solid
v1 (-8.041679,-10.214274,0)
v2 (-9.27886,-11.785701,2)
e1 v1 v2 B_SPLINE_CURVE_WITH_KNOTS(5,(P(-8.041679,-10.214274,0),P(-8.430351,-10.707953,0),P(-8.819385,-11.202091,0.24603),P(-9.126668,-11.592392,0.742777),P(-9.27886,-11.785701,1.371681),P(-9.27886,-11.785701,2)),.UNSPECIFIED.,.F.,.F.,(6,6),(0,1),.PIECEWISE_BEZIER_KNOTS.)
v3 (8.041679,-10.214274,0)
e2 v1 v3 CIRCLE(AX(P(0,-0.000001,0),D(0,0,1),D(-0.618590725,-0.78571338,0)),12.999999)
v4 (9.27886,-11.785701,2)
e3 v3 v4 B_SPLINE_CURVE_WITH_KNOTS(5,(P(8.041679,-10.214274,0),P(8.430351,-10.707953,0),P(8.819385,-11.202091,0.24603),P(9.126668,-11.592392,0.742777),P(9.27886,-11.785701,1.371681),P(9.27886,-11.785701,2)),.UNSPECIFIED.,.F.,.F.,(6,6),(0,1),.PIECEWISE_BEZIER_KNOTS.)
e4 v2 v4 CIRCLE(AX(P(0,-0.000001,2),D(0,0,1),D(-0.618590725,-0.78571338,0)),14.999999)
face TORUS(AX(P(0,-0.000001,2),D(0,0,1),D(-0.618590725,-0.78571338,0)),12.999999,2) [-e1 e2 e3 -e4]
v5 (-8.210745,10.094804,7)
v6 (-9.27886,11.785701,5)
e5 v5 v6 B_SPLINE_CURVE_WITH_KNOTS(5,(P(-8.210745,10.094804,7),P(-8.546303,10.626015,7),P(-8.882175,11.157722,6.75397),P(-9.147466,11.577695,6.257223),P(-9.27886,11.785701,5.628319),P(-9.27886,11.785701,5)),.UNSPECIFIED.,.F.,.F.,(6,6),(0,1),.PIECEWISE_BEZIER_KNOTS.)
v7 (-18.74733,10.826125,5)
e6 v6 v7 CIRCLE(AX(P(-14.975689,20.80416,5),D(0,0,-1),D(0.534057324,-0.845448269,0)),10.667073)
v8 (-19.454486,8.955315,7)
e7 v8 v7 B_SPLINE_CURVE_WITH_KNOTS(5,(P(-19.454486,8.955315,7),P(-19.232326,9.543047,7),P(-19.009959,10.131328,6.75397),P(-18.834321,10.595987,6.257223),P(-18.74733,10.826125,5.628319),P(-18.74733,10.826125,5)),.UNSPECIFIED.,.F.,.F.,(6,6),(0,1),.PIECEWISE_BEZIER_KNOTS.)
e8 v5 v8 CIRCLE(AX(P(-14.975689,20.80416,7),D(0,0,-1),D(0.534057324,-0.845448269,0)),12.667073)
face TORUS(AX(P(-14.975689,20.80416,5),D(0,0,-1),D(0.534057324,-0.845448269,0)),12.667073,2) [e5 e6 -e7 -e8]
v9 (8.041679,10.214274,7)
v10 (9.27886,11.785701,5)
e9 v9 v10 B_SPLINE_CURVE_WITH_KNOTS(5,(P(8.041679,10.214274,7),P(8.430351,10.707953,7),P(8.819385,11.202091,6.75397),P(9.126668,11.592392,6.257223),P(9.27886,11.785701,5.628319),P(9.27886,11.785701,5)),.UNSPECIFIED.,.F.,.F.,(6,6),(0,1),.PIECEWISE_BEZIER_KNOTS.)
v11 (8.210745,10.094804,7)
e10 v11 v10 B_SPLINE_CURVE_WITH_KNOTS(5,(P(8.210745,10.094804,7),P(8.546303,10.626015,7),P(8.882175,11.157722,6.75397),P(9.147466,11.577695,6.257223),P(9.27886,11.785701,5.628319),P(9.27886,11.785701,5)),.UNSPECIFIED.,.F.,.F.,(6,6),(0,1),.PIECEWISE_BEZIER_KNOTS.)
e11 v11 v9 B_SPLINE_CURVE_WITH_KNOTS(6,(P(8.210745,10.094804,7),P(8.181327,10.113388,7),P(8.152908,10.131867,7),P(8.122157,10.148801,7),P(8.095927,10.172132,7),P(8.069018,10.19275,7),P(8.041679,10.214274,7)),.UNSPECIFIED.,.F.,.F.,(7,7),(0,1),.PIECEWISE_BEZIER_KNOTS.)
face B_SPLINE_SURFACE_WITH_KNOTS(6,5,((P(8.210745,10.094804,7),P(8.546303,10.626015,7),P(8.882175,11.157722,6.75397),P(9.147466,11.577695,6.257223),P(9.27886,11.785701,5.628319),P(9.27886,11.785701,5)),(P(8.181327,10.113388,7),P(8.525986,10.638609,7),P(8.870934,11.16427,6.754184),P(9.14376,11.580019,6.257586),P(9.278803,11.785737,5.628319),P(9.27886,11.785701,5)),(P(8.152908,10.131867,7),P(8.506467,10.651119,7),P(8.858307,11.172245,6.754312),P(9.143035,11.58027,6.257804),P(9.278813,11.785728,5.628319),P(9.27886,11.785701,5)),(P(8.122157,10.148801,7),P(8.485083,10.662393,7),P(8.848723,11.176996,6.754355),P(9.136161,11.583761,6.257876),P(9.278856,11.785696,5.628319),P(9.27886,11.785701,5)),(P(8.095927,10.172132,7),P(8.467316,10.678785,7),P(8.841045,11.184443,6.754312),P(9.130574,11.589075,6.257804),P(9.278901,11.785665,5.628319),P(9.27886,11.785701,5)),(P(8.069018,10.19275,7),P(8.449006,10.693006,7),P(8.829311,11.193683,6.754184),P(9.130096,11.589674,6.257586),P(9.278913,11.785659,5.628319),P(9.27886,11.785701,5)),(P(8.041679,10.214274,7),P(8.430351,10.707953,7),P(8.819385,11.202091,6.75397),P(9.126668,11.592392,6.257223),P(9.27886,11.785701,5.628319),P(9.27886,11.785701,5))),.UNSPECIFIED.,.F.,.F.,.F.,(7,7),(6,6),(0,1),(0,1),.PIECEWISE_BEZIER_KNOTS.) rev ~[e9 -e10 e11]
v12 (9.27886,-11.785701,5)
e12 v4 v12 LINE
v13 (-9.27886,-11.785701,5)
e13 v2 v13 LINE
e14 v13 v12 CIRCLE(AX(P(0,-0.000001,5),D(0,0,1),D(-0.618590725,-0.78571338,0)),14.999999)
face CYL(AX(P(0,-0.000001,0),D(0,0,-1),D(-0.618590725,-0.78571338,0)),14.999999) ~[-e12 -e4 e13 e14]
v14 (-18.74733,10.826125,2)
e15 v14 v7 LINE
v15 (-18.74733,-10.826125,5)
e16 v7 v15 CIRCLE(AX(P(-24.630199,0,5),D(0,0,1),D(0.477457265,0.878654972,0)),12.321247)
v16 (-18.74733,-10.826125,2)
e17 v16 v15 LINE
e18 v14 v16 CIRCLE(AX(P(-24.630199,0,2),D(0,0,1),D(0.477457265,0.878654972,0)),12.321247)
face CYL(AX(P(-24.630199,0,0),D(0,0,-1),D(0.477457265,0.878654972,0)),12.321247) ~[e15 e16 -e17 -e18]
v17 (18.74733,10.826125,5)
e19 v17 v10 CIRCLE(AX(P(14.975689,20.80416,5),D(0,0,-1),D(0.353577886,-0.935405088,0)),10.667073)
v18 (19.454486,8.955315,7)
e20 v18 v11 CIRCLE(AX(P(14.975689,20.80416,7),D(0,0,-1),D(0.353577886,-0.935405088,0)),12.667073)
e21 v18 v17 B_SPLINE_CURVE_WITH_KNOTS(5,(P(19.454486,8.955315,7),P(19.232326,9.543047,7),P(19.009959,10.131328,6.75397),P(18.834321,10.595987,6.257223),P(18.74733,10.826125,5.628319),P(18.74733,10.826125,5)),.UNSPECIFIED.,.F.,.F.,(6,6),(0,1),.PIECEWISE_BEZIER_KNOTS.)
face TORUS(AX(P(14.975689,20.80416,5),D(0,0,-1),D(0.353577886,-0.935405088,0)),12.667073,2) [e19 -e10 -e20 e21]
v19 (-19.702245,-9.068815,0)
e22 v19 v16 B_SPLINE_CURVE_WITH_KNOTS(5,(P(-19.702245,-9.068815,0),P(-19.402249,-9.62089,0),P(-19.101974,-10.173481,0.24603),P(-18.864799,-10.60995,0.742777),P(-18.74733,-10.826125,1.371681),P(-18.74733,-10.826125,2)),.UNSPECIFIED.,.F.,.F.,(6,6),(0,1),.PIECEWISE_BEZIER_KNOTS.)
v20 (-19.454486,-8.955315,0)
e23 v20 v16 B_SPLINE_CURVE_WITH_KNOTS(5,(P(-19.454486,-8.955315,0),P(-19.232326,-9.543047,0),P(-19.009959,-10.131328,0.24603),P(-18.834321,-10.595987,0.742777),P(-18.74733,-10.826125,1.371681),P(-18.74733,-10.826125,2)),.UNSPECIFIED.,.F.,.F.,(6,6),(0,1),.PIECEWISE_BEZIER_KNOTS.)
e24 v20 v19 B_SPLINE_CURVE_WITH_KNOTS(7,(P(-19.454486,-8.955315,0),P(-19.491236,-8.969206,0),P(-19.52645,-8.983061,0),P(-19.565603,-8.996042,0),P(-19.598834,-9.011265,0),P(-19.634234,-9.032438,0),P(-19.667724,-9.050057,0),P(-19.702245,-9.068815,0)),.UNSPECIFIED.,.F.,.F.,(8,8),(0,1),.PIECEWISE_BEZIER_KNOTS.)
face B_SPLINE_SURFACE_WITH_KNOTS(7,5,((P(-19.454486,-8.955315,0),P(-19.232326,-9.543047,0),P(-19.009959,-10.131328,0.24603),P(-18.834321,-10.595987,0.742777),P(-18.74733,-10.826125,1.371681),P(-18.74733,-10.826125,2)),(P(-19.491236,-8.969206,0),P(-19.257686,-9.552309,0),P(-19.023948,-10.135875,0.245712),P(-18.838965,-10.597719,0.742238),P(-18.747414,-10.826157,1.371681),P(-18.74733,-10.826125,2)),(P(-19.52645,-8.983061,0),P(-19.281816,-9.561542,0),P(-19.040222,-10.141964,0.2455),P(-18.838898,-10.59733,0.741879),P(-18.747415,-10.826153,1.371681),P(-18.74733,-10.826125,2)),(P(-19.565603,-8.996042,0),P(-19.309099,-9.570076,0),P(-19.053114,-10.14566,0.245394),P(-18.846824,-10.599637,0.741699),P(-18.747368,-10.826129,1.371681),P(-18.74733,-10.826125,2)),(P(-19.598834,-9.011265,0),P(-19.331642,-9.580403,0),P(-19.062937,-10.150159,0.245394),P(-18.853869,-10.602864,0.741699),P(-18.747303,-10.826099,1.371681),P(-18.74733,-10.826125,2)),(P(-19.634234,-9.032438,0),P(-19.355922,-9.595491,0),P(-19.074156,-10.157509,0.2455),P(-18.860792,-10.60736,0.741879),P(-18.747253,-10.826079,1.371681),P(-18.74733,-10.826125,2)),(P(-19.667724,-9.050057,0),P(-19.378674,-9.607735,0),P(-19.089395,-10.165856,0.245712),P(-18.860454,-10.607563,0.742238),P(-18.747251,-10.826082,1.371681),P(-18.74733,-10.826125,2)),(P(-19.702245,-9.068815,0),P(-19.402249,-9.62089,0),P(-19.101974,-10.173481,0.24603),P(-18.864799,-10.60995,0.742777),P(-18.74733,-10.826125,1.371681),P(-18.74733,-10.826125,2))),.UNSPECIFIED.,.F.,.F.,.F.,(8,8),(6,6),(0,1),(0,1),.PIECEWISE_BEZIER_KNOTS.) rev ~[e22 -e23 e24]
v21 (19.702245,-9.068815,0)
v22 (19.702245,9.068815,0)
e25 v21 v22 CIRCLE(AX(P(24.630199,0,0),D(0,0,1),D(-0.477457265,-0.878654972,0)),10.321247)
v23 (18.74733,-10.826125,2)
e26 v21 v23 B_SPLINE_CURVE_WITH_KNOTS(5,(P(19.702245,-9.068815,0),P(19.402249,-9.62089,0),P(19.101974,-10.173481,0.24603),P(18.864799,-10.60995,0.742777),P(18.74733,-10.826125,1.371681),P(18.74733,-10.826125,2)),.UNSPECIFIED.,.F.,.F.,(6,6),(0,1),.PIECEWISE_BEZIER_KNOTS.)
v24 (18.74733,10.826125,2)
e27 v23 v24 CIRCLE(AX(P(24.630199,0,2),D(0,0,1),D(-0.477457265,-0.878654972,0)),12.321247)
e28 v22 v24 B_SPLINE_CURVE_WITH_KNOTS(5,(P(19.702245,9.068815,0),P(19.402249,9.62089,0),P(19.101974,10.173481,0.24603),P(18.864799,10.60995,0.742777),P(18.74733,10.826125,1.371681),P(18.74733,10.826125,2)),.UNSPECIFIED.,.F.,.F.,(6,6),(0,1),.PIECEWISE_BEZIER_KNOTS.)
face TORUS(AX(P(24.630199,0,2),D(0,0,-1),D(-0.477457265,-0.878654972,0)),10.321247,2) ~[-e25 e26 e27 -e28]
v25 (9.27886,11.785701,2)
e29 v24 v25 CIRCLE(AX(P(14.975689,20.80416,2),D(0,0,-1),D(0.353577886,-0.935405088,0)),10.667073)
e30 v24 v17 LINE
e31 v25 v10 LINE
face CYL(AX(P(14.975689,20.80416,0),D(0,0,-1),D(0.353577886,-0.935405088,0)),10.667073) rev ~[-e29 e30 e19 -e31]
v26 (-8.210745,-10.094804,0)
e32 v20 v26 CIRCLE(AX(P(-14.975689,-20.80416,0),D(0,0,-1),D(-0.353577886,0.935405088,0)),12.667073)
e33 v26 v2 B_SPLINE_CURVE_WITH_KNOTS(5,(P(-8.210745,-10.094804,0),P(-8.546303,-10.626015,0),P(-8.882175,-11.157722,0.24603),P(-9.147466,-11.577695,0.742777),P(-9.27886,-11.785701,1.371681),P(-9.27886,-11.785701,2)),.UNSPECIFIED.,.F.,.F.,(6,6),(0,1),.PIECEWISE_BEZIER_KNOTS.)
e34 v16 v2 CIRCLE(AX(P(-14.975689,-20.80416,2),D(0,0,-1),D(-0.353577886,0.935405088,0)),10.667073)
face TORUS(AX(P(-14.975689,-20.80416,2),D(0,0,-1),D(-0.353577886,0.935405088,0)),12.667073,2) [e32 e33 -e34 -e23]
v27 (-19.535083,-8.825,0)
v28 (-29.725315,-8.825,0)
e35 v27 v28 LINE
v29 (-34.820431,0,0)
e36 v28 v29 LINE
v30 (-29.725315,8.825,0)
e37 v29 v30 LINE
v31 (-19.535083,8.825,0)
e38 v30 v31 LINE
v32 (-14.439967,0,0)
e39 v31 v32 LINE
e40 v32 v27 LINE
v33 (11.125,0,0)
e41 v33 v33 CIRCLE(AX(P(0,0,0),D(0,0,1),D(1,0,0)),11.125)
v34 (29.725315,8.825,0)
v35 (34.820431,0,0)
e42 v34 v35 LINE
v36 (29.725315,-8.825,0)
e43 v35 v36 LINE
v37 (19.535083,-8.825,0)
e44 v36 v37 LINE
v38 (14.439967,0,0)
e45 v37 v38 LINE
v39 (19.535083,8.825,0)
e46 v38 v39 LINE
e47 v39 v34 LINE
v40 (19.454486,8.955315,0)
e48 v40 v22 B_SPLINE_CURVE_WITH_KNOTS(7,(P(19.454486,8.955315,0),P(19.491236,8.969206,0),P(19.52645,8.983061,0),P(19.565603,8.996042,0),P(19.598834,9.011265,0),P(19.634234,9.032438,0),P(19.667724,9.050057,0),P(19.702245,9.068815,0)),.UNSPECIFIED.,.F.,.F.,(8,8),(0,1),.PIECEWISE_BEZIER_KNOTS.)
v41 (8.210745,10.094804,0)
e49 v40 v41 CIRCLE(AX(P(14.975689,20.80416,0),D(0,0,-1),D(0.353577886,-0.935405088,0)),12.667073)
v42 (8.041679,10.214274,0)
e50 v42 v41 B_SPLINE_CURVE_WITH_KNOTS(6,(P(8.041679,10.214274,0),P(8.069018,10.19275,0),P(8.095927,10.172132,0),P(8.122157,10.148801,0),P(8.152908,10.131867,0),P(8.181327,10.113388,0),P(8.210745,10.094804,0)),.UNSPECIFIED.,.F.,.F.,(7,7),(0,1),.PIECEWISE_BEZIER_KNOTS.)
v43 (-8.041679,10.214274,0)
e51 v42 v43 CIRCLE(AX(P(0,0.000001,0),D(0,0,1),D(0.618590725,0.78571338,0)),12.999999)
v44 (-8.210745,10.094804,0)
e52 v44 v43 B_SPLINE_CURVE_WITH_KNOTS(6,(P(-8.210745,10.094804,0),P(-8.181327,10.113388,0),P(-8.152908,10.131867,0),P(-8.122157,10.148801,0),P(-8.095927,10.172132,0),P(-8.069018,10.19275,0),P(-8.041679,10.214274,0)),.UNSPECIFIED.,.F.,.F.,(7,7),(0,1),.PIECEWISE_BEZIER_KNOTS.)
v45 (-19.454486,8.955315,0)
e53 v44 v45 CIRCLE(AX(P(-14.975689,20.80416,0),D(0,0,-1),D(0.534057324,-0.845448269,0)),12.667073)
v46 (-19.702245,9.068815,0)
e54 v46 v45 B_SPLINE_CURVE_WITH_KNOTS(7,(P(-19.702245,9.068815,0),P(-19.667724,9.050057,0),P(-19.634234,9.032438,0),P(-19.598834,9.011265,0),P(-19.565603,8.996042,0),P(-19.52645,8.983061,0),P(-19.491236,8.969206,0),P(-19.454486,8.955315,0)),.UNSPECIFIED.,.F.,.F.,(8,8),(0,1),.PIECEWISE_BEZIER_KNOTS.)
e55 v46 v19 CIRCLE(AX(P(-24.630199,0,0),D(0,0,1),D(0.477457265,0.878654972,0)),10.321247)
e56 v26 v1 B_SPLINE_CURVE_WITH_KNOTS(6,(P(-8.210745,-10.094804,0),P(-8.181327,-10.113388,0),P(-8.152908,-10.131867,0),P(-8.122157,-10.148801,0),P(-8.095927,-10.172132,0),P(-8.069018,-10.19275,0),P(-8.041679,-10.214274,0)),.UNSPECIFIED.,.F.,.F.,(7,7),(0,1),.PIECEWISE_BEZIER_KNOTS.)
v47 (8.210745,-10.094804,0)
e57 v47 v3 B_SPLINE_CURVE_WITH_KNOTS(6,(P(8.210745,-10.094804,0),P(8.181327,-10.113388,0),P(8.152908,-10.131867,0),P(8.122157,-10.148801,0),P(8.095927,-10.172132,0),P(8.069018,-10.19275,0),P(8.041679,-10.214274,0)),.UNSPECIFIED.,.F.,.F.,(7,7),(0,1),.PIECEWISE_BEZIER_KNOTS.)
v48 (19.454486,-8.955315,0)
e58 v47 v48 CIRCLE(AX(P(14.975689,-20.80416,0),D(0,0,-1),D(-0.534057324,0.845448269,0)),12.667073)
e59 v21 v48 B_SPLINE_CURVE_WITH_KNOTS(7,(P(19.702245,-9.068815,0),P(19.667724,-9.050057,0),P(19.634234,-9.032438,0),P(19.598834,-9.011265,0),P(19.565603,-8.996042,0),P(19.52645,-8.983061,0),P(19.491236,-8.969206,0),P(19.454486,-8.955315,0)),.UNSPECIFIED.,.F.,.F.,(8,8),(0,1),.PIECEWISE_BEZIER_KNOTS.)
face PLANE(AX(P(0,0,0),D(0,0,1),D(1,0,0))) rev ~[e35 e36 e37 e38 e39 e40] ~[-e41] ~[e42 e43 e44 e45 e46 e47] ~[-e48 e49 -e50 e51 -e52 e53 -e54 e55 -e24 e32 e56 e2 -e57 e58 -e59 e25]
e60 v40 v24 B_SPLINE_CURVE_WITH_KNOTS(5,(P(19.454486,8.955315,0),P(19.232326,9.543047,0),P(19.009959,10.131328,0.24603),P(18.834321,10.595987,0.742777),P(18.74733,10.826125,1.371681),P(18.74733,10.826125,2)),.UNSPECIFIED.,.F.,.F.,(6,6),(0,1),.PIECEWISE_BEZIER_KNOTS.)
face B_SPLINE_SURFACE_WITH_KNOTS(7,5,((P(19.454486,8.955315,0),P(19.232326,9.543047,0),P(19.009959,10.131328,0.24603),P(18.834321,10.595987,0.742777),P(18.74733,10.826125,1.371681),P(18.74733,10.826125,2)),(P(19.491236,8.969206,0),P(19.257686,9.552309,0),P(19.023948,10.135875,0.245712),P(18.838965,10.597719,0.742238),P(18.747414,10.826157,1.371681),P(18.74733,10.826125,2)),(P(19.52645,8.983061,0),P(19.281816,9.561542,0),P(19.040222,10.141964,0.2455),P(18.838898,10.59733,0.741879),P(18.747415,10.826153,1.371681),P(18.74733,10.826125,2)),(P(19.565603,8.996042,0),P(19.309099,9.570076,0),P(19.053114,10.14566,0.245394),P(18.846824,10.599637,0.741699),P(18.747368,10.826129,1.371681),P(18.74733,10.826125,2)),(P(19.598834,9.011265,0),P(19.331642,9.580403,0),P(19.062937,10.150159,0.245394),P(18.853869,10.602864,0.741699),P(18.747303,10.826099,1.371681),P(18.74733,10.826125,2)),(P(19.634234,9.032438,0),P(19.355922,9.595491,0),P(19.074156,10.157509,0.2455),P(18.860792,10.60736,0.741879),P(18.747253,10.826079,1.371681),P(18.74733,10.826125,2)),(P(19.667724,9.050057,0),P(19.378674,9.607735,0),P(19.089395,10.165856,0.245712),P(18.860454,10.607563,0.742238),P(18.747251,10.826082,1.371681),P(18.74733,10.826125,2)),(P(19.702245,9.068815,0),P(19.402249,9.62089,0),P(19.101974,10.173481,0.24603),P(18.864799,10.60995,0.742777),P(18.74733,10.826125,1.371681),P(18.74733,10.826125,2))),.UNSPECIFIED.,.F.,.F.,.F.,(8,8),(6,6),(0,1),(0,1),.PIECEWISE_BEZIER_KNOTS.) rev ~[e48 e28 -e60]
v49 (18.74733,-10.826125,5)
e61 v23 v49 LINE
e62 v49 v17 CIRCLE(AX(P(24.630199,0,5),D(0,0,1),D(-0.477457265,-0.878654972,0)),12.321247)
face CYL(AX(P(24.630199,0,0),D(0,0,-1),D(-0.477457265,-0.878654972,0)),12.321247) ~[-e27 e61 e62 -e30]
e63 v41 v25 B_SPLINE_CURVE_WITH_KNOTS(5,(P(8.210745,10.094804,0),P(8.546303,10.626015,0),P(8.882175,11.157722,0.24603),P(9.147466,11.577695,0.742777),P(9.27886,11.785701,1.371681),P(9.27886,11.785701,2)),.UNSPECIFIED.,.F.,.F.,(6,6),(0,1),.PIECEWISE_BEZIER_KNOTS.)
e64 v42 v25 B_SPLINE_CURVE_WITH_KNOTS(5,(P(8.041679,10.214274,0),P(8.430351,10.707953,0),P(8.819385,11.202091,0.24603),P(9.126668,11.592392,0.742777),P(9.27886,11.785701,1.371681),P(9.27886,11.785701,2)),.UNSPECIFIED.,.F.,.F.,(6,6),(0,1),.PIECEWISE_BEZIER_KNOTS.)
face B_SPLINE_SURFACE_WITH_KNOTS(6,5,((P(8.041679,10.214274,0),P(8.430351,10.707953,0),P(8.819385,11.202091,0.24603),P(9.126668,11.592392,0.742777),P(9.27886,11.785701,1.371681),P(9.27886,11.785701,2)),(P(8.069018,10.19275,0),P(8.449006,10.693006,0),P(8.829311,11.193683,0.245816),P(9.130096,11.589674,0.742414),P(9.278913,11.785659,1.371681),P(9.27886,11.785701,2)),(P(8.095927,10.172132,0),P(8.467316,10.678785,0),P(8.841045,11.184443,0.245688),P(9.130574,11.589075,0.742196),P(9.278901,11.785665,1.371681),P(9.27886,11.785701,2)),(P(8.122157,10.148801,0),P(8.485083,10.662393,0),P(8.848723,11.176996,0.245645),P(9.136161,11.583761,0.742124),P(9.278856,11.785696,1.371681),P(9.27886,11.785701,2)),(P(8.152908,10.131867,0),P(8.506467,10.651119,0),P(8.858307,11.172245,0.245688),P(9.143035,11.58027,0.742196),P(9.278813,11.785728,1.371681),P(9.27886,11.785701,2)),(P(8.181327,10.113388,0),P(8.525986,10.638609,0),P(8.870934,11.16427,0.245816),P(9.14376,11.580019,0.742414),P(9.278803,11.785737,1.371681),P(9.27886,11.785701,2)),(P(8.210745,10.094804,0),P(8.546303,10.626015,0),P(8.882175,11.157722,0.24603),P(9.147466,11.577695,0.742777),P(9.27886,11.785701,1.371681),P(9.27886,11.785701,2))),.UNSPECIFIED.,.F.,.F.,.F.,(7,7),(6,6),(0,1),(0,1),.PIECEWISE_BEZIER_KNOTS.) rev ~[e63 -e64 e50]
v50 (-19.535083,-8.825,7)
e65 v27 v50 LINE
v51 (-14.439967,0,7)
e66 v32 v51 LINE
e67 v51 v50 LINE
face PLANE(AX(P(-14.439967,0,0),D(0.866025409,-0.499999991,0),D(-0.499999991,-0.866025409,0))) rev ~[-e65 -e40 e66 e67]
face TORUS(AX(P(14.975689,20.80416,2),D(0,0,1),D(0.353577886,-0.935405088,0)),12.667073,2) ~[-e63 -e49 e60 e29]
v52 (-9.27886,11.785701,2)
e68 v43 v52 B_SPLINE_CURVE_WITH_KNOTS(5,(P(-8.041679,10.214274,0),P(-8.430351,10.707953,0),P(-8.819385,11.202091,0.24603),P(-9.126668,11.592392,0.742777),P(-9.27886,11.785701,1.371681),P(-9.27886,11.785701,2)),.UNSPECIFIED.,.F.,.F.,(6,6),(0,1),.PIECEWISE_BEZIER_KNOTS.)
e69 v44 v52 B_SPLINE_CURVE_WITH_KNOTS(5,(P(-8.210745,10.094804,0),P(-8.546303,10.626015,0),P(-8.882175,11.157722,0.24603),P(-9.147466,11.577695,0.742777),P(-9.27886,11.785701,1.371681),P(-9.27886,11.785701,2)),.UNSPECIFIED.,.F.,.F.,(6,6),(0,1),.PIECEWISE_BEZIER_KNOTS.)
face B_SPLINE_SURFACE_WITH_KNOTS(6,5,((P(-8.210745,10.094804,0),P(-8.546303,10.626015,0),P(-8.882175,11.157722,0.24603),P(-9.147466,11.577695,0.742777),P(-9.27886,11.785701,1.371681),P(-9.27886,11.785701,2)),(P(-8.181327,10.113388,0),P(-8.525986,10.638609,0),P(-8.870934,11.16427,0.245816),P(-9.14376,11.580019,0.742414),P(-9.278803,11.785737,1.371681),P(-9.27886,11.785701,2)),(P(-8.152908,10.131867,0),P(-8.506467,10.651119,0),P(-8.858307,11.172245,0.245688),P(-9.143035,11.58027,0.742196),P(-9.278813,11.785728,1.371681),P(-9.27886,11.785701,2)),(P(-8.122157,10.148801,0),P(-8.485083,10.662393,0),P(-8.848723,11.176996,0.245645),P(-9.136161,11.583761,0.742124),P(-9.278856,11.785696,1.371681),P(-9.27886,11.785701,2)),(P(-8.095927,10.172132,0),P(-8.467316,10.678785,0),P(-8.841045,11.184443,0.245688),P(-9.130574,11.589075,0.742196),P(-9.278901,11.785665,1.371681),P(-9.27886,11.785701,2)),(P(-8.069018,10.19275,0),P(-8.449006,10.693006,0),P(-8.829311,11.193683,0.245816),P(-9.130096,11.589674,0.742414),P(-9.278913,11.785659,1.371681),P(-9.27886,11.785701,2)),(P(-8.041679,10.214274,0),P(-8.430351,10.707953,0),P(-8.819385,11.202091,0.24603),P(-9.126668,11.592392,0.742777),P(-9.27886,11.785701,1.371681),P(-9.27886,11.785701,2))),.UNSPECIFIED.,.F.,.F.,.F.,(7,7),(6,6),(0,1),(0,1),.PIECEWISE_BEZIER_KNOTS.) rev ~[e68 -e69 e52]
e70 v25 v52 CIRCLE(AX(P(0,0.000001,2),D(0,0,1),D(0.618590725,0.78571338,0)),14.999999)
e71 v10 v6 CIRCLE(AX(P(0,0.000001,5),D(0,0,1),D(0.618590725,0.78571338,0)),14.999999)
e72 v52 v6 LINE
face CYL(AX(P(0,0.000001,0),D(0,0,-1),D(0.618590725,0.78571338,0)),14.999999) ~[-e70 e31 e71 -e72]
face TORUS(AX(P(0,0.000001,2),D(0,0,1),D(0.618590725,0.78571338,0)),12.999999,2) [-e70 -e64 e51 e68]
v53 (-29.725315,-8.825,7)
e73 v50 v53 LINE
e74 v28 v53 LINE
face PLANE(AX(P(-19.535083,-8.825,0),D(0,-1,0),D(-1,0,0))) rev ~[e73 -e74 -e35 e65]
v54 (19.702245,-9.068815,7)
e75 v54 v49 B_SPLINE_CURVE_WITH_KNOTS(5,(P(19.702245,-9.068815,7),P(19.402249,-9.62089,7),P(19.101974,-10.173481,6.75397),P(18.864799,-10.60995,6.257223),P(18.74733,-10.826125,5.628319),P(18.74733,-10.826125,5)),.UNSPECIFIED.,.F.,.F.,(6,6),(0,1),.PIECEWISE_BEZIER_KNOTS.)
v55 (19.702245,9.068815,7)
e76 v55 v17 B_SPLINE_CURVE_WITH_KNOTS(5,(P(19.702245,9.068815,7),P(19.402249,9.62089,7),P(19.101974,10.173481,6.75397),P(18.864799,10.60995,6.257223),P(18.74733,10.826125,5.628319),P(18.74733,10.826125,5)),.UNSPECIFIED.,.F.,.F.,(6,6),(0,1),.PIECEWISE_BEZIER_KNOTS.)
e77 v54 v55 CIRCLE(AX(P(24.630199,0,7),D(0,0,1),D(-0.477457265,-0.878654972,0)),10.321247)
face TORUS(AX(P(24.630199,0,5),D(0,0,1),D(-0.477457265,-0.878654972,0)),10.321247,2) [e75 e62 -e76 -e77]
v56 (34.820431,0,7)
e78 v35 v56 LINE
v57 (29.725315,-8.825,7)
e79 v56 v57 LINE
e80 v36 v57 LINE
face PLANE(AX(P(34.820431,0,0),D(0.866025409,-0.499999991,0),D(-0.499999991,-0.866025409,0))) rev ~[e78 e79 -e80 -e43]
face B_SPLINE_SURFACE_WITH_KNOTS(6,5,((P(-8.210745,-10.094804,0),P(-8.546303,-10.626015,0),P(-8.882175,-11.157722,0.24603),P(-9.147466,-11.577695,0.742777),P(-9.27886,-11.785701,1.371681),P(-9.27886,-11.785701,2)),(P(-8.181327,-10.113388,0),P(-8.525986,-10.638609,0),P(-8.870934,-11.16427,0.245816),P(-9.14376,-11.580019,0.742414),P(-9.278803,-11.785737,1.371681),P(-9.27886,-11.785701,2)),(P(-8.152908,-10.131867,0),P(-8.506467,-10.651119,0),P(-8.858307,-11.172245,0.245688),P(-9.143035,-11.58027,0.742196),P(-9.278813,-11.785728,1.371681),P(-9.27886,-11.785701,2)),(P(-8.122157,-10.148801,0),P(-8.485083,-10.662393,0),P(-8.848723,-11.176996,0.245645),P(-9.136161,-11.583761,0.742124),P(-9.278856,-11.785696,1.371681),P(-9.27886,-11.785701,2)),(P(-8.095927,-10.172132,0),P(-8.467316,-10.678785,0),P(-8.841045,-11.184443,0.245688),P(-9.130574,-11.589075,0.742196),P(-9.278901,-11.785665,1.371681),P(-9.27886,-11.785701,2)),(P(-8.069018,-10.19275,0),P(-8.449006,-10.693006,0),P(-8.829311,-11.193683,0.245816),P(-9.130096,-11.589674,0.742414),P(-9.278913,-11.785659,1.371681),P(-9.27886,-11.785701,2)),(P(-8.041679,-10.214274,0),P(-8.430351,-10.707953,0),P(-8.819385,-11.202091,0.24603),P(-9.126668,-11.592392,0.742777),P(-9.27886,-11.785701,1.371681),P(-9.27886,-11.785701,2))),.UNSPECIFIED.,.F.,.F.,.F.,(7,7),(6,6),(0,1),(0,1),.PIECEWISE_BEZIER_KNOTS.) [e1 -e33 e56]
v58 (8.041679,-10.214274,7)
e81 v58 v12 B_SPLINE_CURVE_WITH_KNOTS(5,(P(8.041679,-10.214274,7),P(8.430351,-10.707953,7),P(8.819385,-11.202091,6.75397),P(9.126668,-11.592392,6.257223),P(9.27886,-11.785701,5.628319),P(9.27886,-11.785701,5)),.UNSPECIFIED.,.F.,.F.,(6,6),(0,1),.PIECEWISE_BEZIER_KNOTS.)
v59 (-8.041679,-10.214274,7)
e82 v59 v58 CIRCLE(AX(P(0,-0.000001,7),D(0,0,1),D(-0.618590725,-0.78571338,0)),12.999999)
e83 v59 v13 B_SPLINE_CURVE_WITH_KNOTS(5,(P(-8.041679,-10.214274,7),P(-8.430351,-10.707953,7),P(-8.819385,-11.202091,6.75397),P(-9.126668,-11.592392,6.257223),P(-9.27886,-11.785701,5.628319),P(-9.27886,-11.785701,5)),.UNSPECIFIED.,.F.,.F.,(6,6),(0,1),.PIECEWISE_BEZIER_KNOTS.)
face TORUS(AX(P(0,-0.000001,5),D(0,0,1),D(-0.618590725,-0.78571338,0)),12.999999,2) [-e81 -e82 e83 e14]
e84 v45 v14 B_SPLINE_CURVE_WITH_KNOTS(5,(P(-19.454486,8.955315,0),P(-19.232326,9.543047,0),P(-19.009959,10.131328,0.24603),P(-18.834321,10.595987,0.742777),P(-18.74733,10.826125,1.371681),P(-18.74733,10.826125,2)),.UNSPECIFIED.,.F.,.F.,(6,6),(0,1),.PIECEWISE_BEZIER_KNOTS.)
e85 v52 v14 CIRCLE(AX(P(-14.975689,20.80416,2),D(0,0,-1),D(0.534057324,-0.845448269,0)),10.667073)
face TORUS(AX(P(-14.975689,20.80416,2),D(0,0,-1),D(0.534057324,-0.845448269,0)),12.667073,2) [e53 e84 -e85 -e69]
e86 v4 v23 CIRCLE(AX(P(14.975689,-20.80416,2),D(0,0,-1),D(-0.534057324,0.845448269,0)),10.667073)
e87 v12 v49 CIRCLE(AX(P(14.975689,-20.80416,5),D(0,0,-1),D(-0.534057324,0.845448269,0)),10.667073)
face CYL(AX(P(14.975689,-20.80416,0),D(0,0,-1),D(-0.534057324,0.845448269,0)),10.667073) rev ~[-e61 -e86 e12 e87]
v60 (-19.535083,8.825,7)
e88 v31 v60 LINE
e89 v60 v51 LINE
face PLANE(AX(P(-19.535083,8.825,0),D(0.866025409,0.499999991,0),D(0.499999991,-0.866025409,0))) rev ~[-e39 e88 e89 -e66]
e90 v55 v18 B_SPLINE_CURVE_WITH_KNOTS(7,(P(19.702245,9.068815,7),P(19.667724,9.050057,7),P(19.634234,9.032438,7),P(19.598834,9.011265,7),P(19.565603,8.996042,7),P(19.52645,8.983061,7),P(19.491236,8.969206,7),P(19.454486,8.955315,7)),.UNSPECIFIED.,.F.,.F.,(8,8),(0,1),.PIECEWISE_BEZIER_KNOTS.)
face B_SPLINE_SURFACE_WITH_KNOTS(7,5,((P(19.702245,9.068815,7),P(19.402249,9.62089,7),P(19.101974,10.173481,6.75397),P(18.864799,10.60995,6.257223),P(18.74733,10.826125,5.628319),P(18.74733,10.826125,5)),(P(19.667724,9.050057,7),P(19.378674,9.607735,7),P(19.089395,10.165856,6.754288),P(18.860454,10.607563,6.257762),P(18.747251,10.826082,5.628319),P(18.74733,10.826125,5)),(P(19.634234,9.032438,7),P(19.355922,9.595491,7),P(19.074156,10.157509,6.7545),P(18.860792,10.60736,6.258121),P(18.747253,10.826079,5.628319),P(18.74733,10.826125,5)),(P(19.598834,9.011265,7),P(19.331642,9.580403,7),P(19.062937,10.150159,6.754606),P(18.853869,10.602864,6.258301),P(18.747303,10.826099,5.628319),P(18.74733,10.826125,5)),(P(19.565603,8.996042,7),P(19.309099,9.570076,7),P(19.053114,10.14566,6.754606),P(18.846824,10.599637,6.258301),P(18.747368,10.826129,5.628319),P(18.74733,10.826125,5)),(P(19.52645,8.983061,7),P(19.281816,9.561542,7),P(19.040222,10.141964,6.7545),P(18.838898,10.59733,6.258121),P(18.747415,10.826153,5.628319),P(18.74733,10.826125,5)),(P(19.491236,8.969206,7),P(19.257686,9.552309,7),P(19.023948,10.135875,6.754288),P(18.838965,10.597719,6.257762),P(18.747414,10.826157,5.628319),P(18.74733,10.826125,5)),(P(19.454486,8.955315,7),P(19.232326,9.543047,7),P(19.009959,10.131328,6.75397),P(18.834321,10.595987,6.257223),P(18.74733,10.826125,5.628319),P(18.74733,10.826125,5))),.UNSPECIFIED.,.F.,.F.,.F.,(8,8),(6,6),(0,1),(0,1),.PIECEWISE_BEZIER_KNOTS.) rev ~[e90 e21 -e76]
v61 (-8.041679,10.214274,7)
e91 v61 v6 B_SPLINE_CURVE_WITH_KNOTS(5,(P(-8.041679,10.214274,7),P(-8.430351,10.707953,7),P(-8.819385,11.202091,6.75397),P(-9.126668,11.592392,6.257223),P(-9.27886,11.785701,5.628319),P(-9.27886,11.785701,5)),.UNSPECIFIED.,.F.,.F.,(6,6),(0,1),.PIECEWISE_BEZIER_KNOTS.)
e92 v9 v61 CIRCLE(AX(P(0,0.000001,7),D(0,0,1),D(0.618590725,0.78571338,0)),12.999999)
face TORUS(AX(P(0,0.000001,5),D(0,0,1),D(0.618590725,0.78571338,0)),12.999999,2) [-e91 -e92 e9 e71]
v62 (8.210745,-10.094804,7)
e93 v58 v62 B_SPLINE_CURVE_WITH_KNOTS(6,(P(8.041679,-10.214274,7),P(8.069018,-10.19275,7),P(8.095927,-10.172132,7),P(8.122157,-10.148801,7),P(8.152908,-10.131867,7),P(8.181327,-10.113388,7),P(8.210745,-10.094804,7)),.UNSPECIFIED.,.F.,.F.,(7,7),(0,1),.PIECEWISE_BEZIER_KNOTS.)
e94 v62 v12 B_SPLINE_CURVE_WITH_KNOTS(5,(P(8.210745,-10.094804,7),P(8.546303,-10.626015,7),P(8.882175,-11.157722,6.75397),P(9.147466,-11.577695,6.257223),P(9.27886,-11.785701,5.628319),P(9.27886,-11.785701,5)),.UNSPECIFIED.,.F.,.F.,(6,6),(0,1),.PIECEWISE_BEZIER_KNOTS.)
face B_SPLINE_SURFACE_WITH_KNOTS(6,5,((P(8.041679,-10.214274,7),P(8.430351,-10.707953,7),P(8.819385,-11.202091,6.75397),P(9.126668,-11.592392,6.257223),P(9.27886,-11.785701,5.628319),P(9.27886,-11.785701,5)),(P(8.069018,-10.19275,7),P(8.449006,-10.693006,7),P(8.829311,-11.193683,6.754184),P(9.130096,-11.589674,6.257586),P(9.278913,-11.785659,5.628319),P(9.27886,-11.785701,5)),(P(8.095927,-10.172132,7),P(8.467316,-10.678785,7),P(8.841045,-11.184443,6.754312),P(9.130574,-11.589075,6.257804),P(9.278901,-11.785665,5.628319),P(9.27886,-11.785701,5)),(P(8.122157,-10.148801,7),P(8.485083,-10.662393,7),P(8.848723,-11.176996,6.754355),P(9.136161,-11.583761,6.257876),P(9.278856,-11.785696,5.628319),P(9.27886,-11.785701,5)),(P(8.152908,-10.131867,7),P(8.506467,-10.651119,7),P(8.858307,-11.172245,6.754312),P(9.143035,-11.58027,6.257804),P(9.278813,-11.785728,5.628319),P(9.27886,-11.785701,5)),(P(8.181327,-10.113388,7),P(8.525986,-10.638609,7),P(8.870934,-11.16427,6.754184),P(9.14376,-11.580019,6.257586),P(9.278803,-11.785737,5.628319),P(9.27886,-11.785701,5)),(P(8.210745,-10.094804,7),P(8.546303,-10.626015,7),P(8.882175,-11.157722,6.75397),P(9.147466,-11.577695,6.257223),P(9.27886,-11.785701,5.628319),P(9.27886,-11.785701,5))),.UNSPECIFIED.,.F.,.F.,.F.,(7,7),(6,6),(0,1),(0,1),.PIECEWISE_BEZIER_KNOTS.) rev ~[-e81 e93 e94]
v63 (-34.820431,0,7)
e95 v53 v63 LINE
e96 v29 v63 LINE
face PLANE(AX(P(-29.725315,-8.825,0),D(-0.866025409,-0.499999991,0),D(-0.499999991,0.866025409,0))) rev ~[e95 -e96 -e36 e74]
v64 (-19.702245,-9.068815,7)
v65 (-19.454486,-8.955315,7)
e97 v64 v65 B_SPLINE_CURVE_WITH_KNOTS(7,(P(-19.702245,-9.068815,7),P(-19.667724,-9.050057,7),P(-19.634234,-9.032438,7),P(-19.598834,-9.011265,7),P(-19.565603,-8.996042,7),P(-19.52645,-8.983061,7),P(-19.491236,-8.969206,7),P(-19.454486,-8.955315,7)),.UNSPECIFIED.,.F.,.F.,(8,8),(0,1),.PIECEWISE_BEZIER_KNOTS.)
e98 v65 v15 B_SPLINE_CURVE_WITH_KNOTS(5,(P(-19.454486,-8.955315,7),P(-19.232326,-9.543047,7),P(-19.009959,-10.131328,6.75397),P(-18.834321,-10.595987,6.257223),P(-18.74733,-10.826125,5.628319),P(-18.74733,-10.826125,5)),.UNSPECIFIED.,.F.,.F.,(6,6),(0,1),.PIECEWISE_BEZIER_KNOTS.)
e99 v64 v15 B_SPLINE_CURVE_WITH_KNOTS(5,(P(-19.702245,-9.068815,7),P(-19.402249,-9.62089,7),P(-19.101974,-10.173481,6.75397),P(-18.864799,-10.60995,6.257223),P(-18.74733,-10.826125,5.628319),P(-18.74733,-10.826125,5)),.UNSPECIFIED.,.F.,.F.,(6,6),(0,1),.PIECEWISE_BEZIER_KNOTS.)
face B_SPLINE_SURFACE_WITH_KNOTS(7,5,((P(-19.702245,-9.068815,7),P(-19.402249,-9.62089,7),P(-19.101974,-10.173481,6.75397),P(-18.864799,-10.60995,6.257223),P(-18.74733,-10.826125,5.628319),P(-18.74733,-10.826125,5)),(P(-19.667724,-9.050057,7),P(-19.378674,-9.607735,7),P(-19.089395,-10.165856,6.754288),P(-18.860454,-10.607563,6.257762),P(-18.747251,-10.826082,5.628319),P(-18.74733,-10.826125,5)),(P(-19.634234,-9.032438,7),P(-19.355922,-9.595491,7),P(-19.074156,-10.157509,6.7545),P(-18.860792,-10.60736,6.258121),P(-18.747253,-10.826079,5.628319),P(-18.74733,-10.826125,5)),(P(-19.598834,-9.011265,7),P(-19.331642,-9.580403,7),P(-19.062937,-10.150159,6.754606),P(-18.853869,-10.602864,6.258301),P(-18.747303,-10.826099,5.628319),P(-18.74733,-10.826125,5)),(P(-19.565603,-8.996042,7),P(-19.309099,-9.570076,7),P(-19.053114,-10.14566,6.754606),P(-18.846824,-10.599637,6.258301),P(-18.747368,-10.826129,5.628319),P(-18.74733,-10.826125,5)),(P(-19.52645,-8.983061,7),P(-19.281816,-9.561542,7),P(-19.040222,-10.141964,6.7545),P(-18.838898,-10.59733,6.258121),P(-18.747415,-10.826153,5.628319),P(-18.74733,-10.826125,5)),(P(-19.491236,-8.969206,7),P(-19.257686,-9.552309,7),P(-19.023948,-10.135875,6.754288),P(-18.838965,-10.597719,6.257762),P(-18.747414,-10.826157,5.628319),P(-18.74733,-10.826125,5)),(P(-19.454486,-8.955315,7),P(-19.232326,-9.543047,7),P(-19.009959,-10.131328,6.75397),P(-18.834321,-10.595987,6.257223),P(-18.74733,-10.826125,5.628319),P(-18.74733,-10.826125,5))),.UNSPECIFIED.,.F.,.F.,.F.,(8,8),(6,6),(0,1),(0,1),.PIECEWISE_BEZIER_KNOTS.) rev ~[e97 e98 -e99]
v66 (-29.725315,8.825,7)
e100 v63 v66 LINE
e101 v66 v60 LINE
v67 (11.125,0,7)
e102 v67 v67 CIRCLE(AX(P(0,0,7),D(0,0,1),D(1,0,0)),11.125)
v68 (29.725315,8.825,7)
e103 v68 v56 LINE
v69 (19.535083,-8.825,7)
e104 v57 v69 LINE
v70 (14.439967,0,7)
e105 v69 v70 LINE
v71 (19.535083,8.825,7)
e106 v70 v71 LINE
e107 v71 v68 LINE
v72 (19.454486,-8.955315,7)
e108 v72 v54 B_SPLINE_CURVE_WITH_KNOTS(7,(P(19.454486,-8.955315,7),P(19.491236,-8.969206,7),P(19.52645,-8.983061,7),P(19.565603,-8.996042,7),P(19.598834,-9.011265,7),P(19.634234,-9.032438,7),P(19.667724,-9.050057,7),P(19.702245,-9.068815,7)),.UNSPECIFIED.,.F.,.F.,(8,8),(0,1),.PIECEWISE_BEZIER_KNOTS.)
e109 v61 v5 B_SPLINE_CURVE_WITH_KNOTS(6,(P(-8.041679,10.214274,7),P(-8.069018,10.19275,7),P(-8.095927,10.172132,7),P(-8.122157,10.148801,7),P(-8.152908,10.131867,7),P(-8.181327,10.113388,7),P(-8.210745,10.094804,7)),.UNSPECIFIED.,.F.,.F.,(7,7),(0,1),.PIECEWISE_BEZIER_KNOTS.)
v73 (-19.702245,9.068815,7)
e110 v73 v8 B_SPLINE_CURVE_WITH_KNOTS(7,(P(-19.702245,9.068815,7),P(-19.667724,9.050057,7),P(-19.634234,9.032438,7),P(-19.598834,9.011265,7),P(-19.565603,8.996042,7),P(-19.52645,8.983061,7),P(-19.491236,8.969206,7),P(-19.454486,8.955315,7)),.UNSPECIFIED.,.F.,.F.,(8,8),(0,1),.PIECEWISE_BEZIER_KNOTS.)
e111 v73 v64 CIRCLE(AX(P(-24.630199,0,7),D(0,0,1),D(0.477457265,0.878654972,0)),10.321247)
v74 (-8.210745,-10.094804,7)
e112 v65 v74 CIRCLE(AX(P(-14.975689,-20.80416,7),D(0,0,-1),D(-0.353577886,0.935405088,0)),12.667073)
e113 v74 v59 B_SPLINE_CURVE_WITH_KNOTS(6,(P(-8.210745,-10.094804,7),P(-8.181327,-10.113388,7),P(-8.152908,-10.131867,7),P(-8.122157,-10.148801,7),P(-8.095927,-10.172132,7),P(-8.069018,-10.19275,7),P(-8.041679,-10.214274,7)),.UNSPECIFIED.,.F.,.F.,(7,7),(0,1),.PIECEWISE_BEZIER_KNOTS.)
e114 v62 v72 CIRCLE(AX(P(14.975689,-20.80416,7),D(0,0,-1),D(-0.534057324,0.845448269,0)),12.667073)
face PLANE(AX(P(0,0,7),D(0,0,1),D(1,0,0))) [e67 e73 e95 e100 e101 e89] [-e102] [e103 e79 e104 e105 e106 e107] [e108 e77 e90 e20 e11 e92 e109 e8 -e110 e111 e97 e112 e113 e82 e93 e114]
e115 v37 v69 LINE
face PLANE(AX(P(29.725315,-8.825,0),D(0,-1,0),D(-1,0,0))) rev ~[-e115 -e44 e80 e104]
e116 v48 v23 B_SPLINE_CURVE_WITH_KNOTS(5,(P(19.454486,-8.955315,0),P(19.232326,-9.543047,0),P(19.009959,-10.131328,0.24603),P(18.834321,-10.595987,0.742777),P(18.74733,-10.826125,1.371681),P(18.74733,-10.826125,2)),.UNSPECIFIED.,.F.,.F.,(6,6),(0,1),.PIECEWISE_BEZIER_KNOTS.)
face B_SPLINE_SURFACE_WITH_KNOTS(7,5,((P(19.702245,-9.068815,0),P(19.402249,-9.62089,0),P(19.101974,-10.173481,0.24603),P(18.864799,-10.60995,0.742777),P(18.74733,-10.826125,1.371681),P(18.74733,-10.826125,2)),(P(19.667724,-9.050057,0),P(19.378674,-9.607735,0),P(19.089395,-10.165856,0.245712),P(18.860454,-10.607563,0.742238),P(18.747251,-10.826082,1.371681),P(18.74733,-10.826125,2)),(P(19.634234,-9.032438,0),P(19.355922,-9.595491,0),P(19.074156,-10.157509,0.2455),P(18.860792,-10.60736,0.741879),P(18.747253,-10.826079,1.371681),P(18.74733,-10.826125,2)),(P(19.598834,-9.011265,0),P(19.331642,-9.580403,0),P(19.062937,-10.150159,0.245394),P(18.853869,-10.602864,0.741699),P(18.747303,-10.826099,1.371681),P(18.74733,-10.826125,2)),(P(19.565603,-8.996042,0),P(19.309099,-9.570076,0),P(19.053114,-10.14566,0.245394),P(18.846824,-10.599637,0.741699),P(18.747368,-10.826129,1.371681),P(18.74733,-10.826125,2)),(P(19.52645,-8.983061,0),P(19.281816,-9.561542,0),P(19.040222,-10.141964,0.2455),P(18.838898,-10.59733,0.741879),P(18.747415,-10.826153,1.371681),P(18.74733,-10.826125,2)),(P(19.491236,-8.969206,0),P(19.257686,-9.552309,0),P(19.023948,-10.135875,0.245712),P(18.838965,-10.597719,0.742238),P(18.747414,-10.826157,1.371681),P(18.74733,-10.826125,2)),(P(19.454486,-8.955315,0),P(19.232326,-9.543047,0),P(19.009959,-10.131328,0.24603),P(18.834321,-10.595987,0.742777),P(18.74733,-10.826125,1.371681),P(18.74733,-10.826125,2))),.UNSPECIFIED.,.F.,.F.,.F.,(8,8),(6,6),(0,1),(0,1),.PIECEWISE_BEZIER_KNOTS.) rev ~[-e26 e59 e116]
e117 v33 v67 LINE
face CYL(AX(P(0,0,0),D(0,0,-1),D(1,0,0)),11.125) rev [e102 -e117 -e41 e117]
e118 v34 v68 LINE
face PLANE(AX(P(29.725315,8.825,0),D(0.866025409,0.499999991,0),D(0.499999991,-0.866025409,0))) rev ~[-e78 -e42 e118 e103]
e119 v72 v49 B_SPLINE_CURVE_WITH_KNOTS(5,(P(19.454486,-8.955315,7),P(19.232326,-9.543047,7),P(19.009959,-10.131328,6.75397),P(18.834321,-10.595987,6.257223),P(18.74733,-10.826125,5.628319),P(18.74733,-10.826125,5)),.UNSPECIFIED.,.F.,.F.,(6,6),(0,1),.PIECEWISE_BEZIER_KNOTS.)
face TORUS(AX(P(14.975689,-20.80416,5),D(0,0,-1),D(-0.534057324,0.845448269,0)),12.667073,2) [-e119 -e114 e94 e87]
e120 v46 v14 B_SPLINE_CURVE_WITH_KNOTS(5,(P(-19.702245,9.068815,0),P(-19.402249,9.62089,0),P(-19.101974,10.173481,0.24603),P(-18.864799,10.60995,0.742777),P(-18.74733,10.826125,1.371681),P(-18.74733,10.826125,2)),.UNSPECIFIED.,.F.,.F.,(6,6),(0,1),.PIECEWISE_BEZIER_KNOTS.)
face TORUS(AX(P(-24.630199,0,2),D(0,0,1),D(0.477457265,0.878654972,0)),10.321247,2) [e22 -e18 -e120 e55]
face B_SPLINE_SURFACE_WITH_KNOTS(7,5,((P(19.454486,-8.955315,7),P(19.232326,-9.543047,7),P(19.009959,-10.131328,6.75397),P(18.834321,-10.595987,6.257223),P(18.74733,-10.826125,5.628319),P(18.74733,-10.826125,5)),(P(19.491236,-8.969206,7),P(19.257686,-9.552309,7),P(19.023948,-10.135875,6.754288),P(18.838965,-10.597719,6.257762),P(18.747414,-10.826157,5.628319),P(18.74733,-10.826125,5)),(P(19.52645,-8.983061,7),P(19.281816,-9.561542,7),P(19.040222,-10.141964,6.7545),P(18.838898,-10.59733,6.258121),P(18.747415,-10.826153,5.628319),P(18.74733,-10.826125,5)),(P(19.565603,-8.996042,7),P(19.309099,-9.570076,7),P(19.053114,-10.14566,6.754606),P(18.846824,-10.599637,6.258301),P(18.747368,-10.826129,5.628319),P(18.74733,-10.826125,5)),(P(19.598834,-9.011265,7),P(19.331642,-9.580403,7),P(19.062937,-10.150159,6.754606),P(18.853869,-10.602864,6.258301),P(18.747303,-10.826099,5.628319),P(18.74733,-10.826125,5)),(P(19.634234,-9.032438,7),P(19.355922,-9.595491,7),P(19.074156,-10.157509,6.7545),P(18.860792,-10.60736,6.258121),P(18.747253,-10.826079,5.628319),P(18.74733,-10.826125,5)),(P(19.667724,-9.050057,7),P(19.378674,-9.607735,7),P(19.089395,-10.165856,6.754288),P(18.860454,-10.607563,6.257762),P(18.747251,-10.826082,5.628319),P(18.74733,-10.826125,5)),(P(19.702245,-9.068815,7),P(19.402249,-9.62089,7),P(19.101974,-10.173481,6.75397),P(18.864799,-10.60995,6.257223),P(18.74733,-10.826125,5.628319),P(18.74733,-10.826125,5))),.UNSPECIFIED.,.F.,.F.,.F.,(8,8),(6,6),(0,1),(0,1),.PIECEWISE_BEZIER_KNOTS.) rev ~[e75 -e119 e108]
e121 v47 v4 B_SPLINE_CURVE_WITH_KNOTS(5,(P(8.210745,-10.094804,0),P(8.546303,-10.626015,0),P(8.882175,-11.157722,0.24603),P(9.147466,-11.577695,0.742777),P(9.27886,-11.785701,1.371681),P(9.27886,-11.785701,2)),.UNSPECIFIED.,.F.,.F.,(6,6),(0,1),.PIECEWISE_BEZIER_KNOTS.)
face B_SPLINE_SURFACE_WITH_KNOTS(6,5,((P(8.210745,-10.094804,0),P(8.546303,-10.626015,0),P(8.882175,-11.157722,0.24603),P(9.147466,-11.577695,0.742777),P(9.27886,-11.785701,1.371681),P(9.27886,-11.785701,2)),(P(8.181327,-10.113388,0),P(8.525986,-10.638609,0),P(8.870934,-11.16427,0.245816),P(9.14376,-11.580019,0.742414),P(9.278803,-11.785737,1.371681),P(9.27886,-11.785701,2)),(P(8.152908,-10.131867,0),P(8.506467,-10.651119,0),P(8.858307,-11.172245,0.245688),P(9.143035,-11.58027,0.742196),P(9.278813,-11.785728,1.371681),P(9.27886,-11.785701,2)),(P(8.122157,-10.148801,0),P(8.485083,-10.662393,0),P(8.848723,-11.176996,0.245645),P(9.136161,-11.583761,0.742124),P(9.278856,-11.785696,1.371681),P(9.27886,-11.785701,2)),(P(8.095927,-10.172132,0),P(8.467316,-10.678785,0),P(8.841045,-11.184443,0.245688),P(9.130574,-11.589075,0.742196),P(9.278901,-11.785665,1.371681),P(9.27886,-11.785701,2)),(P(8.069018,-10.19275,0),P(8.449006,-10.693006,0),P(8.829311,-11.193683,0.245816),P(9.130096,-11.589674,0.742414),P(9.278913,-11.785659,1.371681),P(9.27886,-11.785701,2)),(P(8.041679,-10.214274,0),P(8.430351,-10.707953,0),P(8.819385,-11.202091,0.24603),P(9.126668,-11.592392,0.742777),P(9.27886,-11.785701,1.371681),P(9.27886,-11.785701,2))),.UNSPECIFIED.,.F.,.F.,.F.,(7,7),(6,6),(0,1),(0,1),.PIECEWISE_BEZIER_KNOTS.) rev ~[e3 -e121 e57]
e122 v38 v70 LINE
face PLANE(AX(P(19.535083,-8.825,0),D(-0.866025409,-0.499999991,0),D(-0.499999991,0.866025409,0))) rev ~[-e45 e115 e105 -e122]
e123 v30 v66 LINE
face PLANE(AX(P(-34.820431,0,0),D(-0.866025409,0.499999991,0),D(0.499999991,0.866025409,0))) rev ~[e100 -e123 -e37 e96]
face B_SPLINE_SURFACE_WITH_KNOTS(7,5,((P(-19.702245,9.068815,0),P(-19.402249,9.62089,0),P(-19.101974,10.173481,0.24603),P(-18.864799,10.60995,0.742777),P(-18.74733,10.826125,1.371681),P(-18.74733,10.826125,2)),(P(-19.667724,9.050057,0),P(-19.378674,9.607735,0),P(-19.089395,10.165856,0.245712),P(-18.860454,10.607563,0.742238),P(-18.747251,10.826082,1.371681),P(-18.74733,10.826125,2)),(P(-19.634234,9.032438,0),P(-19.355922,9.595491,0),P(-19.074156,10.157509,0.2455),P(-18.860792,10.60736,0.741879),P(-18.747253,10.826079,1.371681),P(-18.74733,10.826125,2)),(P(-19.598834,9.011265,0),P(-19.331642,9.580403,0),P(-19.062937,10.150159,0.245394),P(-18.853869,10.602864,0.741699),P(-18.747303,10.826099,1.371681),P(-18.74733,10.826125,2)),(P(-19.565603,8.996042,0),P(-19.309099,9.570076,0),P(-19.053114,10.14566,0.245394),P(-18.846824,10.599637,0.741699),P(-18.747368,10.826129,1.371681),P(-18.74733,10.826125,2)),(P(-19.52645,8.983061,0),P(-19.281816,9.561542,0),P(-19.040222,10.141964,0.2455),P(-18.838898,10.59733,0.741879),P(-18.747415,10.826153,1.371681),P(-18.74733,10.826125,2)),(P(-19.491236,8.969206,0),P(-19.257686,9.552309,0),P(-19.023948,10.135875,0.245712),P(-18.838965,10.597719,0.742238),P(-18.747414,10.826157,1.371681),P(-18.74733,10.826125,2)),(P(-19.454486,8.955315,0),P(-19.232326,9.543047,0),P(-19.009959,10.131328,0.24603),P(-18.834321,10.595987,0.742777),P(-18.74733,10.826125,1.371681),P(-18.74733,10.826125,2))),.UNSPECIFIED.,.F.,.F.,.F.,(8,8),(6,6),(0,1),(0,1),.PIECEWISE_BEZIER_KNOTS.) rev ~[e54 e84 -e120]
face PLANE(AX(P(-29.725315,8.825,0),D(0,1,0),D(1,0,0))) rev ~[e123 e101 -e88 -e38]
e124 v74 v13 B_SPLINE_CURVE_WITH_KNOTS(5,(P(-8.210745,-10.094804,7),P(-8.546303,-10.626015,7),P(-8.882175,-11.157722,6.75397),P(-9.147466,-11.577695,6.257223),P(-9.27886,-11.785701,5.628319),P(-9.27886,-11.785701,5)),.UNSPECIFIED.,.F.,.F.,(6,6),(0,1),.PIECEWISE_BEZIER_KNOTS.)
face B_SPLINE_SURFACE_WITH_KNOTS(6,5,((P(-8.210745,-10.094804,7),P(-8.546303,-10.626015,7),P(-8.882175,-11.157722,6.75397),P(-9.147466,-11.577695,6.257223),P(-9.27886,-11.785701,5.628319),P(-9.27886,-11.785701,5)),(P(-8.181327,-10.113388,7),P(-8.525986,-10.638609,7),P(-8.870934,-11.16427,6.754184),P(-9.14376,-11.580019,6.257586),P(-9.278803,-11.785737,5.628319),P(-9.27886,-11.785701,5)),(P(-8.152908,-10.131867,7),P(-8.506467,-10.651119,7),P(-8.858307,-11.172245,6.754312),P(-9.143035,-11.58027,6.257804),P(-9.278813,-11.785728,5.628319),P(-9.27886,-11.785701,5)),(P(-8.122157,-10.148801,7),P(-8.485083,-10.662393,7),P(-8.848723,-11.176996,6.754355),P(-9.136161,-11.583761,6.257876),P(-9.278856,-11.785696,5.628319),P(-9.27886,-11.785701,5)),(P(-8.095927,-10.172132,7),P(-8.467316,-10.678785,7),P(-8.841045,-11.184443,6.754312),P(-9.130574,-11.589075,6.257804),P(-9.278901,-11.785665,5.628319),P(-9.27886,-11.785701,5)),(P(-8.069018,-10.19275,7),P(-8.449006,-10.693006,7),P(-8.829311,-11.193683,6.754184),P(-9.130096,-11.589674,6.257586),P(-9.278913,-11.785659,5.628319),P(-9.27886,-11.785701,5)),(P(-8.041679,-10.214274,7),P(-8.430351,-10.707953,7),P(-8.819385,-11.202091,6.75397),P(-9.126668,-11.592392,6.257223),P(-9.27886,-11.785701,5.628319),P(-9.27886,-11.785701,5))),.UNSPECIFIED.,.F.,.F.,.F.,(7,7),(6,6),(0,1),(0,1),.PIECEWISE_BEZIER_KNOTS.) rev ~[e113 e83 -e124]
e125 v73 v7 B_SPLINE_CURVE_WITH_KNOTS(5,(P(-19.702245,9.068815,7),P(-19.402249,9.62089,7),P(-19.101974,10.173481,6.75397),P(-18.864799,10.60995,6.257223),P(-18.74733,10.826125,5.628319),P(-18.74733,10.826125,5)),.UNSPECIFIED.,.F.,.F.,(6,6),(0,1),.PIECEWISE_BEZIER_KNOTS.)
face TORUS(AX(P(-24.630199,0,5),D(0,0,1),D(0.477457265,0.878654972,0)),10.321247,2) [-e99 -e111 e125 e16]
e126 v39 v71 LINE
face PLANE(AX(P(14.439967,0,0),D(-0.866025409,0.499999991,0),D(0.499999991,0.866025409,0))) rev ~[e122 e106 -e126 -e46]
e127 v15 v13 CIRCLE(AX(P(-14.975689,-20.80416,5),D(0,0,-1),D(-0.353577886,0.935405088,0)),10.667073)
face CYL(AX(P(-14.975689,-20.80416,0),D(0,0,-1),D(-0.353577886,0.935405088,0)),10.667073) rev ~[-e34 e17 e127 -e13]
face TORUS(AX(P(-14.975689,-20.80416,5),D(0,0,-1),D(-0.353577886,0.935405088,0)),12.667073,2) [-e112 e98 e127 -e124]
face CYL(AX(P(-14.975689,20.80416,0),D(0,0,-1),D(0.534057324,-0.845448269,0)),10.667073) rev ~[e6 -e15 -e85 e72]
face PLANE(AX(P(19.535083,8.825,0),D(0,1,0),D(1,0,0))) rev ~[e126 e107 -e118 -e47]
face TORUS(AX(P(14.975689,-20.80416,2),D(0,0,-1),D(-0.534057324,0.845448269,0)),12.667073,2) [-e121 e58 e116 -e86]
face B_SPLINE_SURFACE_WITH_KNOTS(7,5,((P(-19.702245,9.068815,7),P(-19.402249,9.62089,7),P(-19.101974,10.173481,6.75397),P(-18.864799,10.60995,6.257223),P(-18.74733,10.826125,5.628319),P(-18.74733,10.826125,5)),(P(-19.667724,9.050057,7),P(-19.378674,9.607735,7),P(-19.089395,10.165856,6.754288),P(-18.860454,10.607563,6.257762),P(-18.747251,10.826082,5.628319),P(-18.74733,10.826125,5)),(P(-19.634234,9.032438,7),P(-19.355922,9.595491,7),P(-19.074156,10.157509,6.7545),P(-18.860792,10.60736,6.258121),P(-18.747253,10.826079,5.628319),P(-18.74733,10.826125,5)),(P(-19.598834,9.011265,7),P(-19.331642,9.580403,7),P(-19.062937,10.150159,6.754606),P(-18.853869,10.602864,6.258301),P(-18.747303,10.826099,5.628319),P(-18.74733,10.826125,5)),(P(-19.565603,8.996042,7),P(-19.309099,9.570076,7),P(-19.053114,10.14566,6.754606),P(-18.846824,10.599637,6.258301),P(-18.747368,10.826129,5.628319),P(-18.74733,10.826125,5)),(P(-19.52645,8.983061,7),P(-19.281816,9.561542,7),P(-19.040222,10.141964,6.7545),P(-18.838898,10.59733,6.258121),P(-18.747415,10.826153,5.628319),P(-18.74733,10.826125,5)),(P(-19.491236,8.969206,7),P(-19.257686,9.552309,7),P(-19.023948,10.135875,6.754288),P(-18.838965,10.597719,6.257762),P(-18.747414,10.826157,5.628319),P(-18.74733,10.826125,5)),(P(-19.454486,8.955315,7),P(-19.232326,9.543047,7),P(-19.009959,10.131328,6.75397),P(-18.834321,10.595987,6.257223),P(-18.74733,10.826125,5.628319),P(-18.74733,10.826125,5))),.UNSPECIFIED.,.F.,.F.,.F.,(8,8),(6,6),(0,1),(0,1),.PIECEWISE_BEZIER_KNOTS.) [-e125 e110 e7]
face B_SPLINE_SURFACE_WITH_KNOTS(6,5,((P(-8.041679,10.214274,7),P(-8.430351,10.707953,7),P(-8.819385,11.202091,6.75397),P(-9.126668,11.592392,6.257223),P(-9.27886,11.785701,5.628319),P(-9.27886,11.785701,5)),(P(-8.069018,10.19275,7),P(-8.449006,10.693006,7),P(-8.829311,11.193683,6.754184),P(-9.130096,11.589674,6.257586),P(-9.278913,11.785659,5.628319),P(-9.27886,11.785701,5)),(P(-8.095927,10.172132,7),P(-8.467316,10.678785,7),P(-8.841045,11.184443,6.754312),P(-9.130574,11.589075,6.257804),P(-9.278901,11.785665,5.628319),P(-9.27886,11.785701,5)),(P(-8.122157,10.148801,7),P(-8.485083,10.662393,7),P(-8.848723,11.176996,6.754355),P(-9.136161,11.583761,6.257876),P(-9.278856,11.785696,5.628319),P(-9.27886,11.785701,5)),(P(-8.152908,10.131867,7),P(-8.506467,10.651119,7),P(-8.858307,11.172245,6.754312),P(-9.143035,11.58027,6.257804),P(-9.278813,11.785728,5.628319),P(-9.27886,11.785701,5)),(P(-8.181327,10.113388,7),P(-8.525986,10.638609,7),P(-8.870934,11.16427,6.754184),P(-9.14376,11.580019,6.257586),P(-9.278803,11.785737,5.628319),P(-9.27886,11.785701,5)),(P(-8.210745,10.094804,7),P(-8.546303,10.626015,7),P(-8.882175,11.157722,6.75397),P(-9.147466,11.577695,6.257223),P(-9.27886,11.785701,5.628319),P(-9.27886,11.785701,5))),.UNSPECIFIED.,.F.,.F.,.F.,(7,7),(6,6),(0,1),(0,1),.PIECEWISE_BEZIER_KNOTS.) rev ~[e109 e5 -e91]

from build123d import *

# Parameters (mm, degrees)
F0_R     = 11.125
F1_DEPTH = 7
F2_R     = 2
F3_R     = 2


with BuildPart() as f1:
    # F0 (on Top) → F1 (new body)
    with BuildSketch(Plane.XY):
        with BuildLine():
            ThreePointArc((18.74733, 10.826125), (13.90015, 10.191447), (9.27886, 11.785701))
            ThreePointArc((9.27886, 11.785701), (0, 15), (-9.27886, 11.785701))
            ThreePointArc((-9.27886, 11.785701), (-13.90015, 10.191447), (-18.74733, 10.826125))
            ThreePointArc((-18.74733, 10.826125), (-36.951446, 0), (-18.74733, -10.826125))
            ThreePointArc((-18.74733, -10.826125), (-13.90015, -10.191447), (-9.27886, -11.785701))
            ThreePointArc((-9.27886, -11.785701), (0, -15), (9.27886, -11.785701))
            ThreePointArc((9.27886, -11.785701), (13.90015, -10.191447), (18.74733, -10.826125))
            ThreePointArc((18.74733, -10.826125), (36.951446, 0), (18.74733, 10.826125))
        make_face()
        Polygon((-29.725315, 8.825), (-19.535083, 8.825), (-14.439967, 0), (-19.535083, -8.825), (-29.725315, -8.825), (-34.820431, 0), align=None, mode=Mode.SUBTRACT)
        Circle(F0_R, mode=Mode.SUBTRACT)
        Polygon((14.439967, 0), (19.535083, 8.825), (29.725315, 8.825), (34.820431, 0), (29.725315, -8.825), (19.535083, -8.825), align=None, mode=Mode.SUBTRACT)
    extrude(amount=F1_DEPTH)

    # F2
    f2_edges = [f1.edges().sort_by_distance(p)[0] for p in [
        (-36.951446, 0, 7),
        (-13.90015, -10.191447, 7),
        (0, -15, 7),
        (13.90015, -10.191447, 7),
        (36.951446, 0, 7),
        (13.90015, 10.191447, 7),
        (0, 15, 7),
        (-13.90015, 10.191447, 7),
    ]]
    fillet(f2_edges, radius=F2_R)

    # F3
    f3_edges = [f1.edges().sort_by_distance(p)[0] for p in [
        (-13.90015, -10.191447, 0),
        (-36.951446, 0, 0),
        (-13.90015, 10.191447, 0),
        (0, 15, 0),
        (13.90015, 10.191447, 0),
        (36.951446, 0, 0),
        (13.90015, -10.191447, 0),
        (0, -15, 0),
    ]]
    fillet(f3_edges, radius=F3_R)


solid = f1.part
